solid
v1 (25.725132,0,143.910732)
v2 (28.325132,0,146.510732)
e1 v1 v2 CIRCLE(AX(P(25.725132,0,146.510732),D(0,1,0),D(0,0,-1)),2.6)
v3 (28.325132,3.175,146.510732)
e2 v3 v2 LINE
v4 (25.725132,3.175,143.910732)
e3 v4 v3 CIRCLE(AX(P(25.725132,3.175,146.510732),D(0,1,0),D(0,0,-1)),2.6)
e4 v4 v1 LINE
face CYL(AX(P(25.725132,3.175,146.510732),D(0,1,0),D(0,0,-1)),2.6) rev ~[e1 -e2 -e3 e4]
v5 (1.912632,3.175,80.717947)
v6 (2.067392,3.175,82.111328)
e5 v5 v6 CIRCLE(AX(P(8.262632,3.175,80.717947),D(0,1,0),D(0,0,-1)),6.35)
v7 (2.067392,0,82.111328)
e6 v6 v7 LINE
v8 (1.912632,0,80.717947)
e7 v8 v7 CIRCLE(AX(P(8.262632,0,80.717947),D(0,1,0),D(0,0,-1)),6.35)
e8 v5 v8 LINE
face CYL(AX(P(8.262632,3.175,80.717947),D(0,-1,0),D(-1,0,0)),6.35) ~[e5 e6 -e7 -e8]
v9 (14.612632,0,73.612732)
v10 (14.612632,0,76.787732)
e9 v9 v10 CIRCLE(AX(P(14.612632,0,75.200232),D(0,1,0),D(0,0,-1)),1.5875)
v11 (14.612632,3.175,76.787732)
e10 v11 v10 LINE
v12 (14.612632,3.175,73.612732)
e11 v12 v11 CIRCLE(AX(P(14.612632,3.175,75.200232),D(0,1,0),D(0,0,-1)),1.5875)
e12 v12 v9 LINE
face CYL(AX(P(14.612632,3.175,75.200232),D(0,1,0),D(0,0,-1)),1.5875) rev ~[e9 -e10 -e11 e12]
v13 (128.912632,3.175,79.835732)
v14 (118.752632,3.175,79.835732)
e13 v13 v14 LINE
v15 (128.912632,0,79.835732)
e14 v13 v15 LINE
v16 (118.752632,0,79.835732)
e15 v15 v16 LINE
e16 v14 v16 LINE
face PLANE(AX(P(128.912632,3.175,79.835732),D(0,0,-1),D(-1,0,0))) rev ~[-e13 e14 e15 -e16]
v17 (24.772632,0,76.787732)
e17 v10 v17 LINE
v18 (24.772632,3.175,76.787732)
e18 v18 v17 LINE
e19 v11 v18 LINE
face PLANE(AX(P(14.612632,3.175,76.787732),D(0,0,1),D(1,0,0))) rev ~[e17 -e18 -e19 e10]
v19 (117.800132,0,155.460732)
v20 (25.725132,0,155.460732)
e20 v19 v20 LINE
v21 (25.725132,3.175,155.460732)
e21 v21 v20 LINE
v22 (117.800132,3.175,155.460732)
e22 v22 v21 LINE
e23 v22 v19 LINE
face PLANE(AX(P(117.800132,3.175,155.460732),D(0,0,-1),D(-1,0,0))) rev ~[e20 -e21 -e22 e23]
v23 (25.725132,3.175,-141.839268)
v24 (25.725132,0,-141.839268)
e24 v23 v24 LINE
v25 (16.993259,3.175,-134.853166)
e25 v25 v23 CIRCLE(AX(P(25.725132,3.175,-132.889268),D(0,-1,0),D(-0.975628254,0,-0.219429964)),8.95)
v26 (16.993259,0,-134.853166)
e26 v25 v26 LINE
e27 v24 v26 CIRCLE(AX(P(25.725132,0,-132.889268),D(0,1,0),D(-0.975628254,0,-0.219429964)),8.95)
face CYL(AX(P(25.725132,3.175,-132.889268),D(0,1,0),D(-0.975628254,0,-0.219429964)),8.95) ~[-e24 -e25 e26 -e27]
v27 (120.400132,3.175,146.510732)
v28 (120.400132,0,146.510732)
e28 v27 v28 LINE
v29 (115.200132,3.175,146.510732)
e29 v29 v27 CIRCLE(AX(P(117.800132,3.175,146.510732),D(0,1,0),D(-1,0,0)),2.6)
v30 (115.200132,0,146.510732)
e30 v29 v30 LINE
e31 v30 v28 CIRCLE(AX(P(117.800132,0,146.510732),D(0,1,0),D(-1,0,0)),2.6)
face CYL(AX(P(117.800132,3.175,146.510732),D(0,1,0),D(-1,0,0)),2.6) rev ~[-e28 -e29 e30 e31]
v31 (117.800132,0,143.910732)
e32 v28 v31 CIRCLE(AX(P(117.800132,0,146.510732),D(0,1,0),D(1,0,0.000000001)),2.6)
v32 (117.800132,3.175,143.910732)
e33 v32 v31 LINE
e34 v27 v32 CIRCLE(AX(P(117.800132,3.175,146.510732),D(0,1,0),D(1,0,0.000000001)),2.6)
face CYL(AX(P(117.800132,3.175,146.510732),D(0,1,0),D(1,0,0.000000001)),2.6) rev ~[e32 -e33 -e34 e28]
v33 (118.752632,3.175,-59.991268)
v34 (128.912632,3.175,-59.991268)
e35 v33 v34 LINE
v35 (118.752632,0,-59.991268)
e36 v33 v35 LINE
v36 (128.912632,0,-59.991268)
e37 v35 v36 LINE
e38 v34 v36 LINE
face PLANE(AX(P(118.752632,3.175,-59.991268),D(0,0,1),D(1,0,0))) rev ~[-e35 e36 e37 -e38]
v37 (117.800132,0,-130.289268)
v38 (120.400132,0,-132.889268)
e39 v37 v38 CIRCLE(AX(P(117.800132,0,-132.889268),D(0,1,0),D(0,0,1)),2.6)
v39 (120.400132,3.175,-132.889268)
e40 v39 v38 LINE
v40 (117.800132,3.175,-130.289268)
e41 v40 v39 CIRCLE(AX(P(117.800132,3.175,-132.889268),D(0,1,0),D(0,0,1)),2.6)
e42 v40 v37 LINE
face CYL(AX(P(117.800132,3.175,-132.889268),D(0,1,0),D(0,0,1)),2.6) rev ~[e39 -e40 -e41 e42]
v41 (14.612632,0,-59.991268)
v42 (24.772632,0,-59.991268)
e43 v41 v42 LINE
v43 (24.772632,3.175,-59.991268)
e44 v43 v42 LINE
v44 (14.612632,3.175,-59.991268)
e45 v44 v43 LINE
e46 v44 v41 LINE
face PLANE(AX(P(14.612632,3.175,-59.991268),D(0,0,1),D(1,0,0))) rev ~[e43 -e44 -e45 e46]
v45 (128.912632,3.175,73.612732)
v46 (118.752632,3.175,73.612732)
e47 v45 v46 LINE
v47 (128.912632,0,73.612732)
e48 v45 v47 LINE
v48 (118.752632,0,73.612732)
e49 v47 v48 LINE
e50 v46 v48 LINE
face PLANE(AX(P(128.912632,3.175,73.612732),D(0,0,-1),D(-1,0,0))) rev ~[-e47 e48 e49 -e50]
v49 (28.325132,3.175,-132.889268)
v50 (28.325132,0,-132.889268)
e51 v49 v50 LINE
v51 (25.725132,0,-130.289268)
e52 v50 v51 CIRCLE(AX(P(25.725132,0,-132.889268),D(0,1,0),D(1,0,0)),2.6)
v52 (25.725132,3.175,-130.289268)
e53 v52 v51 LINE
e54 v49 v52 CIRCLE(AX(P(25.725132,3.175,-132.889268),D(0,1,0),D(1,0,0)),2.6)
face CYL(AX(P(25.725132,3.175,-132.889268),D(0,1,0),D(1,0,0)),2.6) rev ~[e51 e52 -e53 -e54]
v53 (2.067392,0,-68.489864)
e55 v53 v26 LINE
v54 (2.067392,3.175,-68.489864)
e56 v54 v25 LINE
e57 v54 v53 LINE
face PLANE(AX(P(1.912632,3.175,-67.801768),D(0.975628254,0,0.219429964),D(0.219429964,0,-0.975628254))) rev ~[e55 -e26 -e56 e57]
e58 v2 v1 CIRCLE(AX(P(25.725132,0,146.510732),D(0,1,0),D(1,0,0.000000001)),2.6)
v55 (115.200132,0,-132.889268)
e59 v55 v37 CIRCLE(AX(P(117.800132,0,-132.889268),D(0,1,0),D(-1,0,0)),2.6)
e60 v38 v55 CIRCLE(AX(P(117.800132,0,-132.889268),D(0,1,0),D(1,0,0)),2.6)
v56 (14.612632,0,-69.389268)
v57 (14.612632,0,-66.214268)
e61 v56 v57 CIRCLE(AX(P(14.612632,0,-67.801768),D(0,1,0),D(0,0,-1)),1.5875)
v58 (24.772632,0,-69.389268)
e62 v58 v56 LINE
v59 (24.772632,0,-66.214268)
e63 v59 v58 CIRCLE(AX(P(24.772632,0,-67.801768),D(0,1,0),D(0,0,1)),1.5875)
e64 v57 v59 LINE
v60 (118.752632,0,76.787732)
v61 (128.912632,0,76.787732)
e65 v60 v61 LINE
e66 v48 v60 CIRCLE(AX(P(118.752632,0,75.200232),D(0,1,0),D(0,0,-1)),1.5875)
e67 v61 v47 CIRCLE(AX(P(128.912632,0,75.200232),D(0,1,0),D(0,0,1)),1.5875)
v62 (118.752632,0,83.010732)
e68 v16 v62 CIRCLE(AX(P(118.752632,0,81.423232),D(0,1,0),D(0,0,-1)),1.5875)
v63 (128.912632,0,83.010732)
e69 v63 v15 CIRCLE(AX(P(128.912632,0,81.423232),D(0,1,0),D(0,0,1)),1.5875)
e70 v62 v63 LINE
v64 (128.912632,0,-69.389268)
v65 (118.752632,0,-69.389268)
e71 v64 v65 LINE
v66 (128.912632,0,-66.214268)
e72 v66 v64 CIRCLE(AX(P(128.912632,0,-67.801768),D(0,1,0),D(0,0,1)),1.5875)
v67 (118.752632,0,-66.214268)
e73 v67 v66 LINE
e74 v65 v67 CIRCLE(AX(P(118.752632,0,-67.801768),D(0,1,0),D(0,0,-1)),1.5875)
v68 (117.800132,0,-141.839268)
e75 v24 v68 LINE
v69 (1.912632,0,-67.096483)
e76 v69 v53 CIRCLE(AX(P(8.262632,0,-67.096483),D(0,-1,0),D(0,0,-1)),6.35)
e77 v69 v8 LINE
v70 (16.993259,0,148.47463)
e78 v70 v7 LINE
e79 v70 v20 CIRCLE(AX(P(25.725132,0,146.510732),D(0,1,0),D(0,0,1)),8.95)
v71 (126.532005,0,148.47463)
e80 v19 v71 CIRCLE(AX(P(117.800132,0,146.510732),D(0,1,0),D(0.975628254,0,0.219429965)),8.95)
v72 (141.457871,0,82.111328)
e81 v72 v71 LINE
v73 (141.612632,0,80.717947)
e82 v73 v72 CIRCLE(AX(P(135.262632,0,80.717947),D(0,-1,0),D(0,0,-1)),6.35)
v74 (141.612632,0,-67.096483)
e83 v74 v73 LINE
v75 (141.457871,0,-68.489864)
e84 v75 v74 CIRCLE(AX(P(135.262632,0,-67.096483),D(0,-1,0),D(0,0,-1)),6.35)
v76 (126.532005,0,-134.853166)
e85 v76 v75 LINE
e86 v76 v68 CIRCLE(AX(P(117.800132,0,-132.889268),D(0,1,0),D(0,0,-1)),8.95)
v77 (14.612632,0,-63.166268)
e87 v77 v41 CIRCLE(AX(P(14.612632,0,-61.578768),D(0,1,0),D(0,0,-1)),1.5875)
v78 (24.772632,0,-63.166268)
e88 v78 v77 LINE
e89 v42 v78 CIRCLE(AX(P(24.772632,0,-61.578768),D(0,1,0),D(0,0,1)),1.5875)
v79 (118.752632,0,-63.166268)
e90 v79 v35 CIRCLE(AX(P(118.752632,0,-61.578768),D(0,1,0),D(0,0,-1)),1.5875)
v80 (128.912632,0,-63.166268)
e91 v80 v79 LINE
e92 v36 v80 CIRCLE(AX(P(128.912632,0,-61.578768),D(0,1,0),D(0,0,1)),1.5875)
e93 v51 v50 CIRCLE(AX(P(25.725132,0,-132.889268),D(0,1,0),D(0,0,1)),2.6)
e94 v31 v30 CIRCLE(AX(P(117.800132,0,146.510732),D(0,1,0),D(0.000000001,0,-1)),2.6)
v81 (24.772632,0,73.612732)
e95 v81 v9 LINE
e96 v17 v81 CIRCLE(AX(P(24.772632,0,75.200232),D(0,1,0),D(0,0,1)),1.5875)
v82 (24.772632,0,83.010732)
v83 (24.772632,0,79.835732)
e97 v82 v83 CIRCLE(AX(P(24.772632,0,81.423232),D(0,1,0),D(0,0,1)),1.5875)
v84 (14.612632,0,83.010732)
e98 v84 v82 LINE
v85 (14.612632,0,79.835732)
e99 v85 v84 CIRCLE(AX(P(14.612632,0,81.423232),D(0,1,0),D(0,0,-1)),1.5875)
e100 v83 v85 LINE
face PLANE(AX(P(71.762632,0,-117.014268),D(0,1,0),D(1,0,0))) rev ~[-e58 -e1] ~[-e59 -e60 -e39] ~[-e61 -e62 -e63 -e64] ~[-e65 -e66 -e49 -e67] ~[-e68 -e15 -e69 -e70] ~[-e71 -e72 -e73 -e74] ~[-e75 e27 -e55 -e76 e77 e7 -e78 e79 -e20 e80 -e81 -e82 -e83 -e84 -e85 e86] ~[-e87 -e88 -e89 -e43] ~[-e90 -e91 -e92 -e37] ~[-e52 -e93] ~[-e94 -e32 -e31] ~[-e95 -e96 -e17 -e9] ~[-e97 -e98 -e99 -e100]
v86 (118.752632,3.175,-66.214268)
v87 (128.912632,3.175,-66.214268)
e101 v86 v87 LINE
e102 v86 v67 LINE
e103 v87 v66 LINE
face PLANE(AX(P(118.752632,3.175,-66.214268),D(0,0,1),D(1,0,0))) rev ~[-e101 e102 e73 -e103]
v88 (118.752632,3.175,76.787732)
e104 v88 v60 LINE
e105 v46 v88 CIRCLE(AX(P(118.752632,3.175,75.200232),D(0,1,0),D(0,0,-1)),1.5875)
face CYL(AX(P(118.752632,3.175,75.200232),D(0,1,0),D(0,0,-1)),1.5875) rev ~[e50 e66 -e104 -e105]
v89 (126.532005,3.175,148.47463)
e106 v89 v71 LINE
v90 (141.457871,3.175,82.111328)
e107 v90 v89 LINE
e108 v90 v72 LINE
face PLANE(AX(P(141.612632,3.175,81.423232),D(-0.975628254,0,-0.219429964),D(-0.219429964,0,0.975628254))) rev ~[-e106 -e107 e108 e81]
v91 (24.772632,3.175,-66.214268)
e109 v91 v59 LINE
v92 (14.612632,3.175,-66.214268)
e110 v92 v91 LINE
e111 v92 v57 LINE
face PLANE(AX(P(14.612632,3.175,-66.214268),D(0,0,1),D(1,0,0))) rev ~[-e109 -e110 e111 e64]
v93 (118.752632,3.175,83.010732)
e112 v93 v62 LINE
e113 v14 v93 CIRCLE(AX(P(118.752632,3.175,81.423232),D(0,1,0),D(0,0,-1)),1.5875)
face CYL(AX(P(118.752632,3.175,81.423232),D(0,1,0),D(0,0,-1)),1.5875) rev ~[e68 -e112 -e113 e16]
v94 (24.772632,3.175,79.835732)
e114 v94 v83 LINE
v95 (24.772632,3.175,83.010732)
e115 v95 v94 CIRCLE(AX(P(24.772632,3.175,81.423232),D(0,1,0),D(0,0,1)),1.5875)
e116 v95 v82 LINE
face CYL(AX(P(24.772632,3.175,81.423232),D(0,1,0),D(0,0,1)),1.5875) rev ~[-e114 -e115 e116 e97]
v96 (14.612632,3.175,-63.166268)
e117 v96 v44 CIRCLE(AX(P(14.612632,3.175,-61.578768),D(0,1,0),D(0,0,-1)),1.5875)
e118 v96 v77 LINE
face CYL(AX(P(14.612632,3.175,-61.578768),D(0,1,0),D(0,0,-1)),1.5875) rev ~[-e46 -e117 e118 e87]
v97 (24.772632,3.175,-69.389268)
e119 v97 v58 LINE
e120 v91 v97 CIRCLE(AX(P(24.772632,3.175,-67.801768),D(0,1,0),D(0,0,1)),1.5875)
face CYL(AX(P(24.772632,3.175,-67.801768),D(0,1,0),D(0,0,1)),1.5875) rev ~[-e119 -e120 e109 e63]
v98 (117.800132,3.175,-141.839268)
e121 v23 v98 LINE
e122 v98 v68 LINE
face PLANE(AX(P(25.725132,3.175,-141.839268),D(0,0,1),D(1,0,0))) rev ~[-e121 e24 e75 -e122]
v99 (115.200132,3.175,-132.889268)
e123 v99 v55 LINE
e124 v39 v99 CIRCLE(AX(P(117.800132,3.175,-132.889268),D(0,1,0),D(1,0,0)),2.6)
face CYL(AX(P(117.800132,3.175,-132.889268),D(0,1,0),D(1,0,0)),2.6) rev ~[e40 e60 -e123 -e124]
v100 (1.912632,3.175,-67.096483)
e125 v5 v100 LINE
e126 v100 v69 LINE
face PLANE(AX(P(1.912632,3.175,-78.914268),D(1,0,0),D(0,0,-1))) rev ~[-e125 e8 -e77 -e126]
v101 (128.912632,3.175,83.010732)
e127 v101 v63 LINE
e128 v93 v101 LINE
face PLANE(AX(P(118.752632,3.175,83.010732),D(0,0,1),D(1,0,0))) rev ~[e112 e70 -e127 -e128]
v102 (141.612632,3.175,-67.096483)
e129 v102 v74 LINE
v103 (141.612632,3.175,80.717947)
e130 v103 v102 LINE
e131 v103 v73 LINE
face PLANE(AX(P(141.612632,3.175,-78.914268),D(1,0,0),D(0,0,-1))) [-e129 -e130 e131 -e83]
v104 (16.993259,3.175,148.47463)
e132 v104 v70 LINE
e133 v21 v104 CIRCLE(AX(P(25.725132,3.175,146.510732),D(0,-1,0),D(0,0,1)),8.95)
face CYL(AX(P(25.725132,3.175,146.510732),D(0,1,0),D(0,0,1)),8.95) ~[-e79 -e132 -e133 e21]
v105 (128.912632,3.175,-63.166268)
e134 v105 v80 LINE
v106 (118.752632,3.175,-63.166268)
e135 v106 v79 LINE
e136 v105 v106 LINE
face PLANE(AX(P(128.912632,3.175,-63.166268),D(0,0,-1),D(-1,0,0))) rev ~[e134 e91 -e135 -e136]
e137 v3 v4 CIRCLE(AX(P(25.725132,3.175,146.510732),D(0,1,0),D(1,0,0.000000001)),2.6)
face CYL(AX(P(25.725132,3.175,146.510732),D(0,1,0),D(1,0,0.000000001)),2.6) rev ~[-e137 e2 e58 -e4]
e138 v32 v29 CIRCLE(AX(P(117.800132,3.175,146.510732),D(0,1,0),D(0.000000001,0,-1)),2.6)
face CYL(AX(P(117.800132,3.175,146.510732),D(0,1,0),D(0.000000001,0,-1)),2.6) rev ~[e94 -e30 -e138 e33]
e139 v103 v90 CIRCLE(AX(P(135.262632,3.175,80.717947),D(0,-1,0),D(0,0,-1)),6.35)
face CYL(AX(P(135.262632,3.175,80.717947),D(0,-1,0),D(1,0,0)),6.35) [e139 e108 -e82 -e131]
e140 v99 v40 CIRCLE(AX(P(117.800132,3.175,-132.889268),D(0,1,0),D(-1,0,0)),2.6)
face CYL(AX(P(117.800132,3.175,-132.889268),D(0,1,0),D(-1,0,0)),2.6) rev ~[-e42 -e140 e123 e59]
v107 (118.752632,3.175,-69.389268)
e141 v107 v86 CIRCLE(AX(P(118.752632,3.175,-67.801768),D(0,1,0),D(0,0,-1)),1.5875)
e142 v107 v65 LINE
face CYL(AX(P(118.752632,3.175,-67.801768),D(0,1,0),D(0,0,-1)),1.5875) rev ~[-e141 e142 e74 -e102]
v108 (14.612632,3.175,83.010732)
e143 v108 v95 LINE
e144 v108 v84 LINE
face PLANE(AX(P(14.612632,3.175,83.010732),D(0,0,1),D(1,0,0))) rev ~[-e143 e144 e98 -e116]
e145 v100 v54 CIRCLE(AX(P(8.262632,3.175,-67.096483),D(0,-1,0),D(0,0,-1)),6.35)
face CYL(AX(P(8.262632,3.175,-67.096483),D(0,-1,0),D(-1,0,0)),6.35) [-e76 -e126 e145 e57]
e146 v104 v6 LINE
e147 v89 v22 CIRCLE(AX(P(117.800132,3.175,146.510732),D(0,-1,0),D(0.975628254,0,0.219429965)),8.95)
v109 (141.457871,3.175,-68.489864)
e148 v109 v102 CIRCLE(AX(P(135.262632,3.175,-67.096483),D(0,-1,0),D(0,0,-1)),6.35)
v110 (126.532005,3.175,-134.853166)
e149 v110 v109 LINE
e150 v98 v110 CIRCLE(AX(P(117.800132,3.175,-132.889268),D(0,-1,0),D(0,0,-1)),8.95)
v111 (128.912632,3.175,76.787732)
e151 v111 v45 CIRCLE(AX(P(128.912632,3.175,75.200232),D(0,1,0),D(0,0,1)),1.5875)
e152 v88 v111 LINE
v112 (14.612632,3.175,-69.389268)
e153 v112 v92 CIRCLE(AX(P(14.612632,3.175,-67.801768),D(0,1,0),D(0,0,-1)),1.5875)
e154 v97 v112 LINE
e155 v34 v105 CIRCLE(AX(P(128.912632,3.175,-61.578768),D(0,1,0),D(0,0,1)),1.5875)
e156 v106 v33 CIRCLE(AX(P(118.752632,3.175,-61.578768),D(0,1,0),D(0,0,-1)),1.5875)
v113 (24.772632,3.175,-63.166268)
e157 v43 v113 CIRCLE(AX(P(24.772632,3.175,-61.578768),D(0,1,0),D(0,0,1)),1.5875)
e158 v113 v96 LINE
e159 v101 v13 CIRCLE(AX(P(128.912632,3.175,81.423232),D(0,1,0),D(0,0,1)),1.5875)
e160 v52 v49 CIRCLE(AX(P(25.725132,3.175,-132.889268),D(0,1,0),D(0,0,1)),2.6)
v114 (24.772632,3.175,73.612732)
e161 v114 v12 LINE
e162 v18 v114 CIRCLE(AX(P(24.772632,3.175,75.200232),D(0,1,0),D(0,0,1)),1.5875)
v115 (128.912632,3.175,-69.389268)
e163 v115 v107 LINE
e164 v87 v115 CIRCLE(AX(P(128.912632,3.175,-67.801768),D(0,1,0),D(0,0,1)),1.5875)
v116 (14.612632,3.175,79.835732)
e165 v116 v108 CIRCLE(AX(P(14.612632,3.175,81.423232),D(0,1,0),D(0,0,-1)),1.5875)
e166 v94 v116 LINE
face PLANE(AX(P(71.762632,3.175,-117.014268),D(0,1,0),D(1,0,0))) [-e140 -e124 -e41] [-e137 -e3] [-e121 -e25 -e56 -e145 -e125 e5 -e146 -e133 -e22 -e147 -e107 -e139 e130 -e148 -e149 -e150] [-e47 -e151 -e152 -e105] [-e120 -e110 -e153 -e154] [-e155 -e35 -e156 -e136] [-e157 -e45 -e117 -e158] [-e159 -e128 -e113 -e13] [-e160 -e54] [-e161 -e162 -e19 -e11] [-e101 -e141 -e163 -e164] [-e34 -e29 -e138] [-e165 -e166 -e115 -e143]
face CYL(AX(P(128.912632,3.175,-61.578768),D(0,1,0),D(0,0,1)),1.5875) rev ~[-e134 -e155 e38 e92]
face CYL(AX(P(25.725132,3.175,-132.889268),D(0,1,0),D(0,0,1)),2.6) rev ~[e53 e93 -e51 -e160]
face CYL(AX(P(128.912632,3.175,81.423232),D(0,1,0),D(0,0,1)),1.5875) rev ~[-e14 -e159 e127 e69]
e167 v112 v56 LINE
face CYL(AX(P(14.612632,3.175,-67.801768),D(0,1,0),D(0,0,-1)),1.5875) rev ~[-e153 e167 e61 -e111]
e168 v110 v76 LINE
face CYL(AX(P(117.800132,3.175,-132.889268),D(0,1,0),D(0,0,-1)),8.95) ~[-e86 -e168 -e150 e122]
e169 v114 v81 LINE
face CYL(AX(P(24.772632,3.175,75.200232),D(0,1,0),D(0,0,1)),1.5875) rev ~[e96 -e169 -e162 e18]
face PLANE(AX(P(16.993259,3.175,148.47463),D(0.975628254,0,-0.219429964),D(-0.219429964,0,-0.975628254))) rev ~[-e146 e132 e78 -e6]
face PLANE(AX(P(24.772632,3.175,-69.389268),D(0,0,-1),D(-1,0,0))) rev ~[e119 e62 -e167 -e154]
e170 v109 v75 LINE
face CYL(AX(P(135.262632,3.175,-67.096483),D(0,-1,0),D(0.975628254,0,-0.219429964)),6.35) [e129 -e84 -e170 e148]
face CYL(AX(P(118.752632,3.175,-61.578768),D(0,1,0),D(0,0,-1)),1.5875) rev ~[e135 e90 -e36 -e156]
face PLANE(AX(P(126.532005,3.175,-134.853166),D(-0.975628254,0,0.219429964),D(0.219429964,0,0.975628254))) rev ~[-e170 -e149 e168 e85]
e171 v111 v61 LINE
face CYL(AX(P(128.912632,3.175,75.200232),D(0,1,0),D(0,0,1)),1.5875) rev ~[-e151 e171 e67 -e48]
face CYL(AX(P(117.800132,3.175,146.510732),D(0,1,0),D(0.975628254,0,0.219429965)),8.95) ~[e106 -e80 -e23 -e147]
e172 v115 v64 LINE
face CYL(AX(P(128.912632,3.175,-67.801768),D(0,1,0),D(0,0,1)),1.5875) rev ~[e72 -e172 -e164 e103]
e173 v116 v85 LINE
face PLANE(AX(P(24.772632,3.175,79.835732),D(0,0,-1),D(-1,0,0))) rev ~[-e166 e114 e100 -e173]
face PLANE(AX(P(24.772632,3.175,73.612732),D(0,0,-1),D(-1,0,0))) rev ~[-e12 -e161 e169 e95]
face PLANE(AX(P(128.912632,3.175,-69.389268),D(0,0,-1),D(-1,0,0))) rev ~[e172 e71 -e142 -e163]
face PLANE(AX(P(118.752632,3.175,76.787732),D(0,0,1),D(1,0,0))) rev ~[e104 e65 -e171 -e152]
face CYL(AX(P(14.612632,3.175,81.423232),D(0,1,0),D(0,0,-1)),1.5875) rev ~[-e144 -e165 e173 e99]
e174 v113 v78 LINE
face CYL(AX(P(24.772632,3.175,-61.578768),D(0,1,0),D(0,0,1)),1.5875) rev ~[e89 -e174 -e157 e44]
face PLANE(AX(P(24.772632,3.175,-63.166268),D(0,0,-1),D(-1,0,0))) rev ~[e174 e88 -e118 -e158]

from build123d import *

# Parameters (mm, degrees)
SKETCH1_W               = 283.466794954
SKETCH1_H               = 183.213286571
BOSS_EXTRUDE1_DEPTH     = 3.175
SKETCH2_W               = 283.466794954
SKETCH2_H               = 183.213286571
CUT_EXTRUDE1_DEPTH      = 4.175
SKETCH4_W               = 139.7
SKETCH4_H               = 76.2
BOSS_EXTRUDE2_DEPTH     = 3.175
CUT_EXTRUDE2_DEPTH      = 4.175
CUT_EXTRUDE3_DEPTH      = 1
CUT_EXTRUDE3_DEPTH_BACK = 4.175
FILLET1_R               = 6.35


with BuildPart() as part:
    # Sketch1 → Boss-Extrude1 (new body)
    with BuildSketch(Plane(origin=(0, 0, 0), x_dir=(1, 0, 0), z_dir=(0, 1, 0))):
        with Locations((1.754436397, -4.260774107)):
            Rectangle(SKETCH1_W, SKETCH1_H)
    extrude(amount=BOSS_EXTRUDE1_DEPTH)

    # Sketch2 → Cut-Extrude1 (cut, through all)
    with BuildSketch(Plane(origin=(0, 3.175, 0), x_dir=(1, 0, 0), z_dir=(0, 1, 0))):
        with Locations((1.754436397, -4.260774107)):
            Rectangle(SKETCH2_W, SKETCH2_H)
        Polygon((14.612631792, -92.535731899), (1.912631792, -92.535731899), (1.912631792, -79.835731899), (1.912631792, 78.914268101), (141.612631792, 78.914268101), (141.612631792, -79.835731899), (141.612631792, -92.535731899), (128.912631792, -92.535731899), align=None, mode=Mode.SUBTRACT)
        with BuildLine():
            Line((24.772631792, 63.166268101), (14.612631792, 63.166268101))
            Line((14.612631792, 63.166268101), (14.612631792, 59.991268101))
            Line((14.612631792, 59.991268101), (24.772631792, 59.991268101))
            ThreePointArc((24.772631792, 59.991268101), (26.360131792, 61.578768101), (24.772631792, 63.166268101))
        make_face()
        with BuildLine():
            Line((14.612631792, 59.991268101), (14.612631792, 63.166268101))
            ThreePointArc((14.612631792, 63.166268101), (13.025131792, 61.578768101), (14.612631792, 59.991268101))
        make_face()
        with BuildLine():
            ThreePointArc((14.612631792, 69.389268101), (13.025131792, 67.801768101), (14.612631792, 66.214268101))
            Line((14.612631792, 66.214268101), (24.772631792, 66.214268101))
            ThreePointArc((24.772631792, 66.214268101), (26.360131792, 67.801768101), (24.772631792, 69.389268101))
            Line((24.772631792, 69.389268101), (14.612631792, 69.389268101))
        make_face()
        with BuildLine():
            Line((128.912631792, 63.166268101), (118.752631792, 63.166268101))
            ThreePointArc((118.752631792, 63.166268101), (117.165131792, 61.578768101), (118.752631792, 59.991268101))
            Line((118.752631792, 59.991268101), (128.912631792, 59.991268101))
            Line((128.912631792, 59.991268101), (128.912631792, 63.166268101))
        make_face()
        with BuildLine():
            ThreePointArc((118.752631792, 69.389268101), (117.165131792, 67.801768101), (118.752631792, 66.214268101))
            Line((118.752631792, 66.214268101), (128.912631792, 66.214268101))
            ThreePointArc((128.912631792, 66.214268101), (130.500131792, 67.801768101), (128.912631792, 69.389268101))
            Line((128.912631792, 69.389268101), (118.752631792, 69.389268101))
        make_face()
        with BuildLine():
            ThreePointArc((128.912631792, -83.010731899), (130.500131792, -81.423231899), (128.912631792, -79.835731899))
            Line((128.912631792, -79.835731899), (118.752631792, -79.835731899))
            ThreePointArc((118.752631792, -79.835731899), (117.165131792, -81.423231899), (118.752631792, -83.010731899))
            Line((118.752631792, -83.010731899), (128.912631792, -83.010731899))
        make_face()
        with BuildLine():
            ThreePointArc((128.912631792, -76.787731899), (130.500131792, -75.200231899), (128.912631792, -73.612731899))
            Line((128.912631792, -73.612731899), (128.912631792, -76.787731899))
        make_face()
        with BuildLine():
            Line((128.912631792, -76.787731899), (128.912631792, -73.612731899))
            Line((128.912631792, -73.612731899), (118.752631792, -73.612731899))
            ThreePointArc((118.752631792, -73.612731899), (117.165131792, -75.200231899), (118.752631792, -76.787731899))
            Line((118.752631792, -76.787731899), (128.912631792, -76.787731899))
        make_face()
        with BuildLine():
            ThreePointArc((128.912631792, 59.991268101), (130.500131792, 61.578768101), (128.912631792, 63.166268101))
            Line((128.912631792, 63.166268101), (128.912631792, 59.991268101))
        make_face()
        with BuildLine():
            Line((24.772631792, -79.835731899), (14.612631792, -79.835731899))
            ThreePointArc((14.612631792, -79.835731899), (13.025131792, -81.423231899), (14.612631792, -83.010731899))
            Line((14.612631792, -83.010731899), (24.772631792, -83.010731899))
            ThreePointArc((24.772631792, -83.010731899), (26.360131792, -81.423231899), (24.772631792, -79.835731899))
        make_face()
        with BuildLine():
            Line((24.772631792, -73.612731899), (14.612631792, -73.612731899))
            Line((14.612631792, -73.612731899), (14.612631792, -76.787731899))
            Line((14.612631792, -76.787731899), (24.772631792, -76.787731899))
            ThreePointArc((24.772631792, -76.787731899), (26.360131792, -75.200231899), (24.772631792, -73.612731899))
        make_face()
        with BuildLine():
            Line((14.612631792, -76.787731899), (14.612631792, -73.612731899))
            ThreePointArc((14.612631792, -73.612731899), (13.025131792, -75.200231899), (14.612631792, -76.787731899))
        make_face()
    extrude(amount=-CUT_EXTRUDE1_DEPTH, mode=Mode.SUBTRACT)

    # Sketch4 → Boss-Extrude2 (add)
    with BuildSketch(Plane(origin=(0, 3.175, 0), x_dir=(1, 0, 0), z_dir=(0, 1, 0))):
        with Locations((71.762631792, 117.014268101)):
            Rectangle(SKETCH4_W, SKETCH4_H)
        with Locations((71.762631792, -130.635731899)):
            Rectangle(SKETCH4_W, SKETCH4_H)
    extrude(amount=-BOSS_EXTRUDE2_DEPTH)

    # Sketch3 → Cut-Extrude2 (cut, through all)
    with BuildSketch(Plane(origin=(0, 3.175, 0), x_dir=(1, 0, 0), z_dir=(0, 1, 0))):
        with BuildLine():
            ThreePointArc((28.325131792, 132.889268101), (23.886654161, 134.727745733), (25.725131792, 130.289268101))
            Line((25.725131792, 130.289268101), (25.725131792, 132.889268101))
            Line((25.725131792, 132.889268101), (28.325131792, 132.889268101))
        make_face()
        with BuildLine():
            Line((25.725131792, 132.889268101), (25.725131792, 130.289268101))
            ThreePointArc((25.725131792, 130.289268101), (27.563609423, 131.05079047), (28.325131792, 132.889268101))
            Line((28.325131792, 132.889268101), (25.725131792, 132.889268101))
        make_face()
        with BuildLine():
            ThreePointArc((28.325131792, 132.889268101), (23.886654161, 134.727745733), (25.725131792, 130.289268101))
            Line((25.725131792, 130.289268101), (25.725131792, 132.889268101))
            Line((25.725131792, 132.889268101), (28.325131792, 132.889268101))
        make_face()
        with BuildLine():
            Line((25.725131792, 132.889268101), (25.725131792, 130.289268101))
            ThreePointArc((25.725131792, 130.289268101), (27.563609423, 131.05079047), (28.325131792, 132.889268101))
            Line((28.325131792, 132.889268101), (25.725131792, 132.889268101))
        make_face()
        with BuildLine():
            ThreePointArc((115.200131792, 132.889268101), (115.961654161, 131.05079047), (117.800131792, 130.289268101))
            Line((117.800131792, 130.289268101), (117.800131792, 132.889268101))
            Line((117.800131792, 132.889268101), (115.200131792, 132.889268101))
        make_face()
        with BuildLine():
            Line((117.800131792, 132.889268101), (117.800131792, 130.289268101))
            ThreePointArc((117.800131792, 130.289268101), (119.638609423, 131.05079047), (120.400131792, 132.889268101))
            ThreePointArc((120.400131792, 132.889268101), (117.800131792, 135.489268101), (115.200131792, 132.889268101))
            Line((115.200131792, 132.889268101), (117.800131792, 132.889268101))
        make_face()
        with BuildLine():
            ThreePointArc((115.200131792, 132.889268101), (115.961654161, 131.05079047), (117.800131792, 130.289268101))
            Line((117.800131792, 130.289268101), (117.800131792, 132.889268101))
            Line((117.800131792, 132.889268101), (115.200131792, 132.889268101))
        make_face()
        with BuildLine():
            Line((117.800131792, 132.889268101), (117.800131792, 130.289268101))
            ThreePointArc((117.800131792, 130.289268101), (119.638609423, 131.05079047), (120.400131792, 132.889268101))
            ThreePointArc((120.400131792, 132.889268101), (117.800131792, 135.489268101), (115.200131792, 132.889268101))
            Line((115.200131792, 132.889268101), (117.800131792, 132.889268101))
        make_face()
        with BuildLine():
            ThreePointArc((120.400131792, -146.510731899), (119.638609423, -144.672254267), (117.800131792, -143.910731899))
            Line((117.800131792, -143.910731899), (117.800131792, -146.510731899))
            Line((117.800131792, -146.510731899), (115.200131792, -146.510731899))
            ThreePointArc((115.200131792, -146.510731899), (117.800131792, -149.110731899), (120.400131792, -146.510731899))
        make_face()
        with BuildLine():
            Line((117.800131792, -146.510731899), (117.800131792, -143.910731899))
            ThreePointArc((117.800131792, -143.910731899), (115.961654161, -144.672254267), (115.200131792, -146.510731899))
            Line((115.200131792, -146.510731899), (117.800131792, -146.510731899))
        make_face()
        with BuildLine():
            ThreePointArc((120.400131792, -146.510731899), (119.638609423, -144.672254267), (117.800131792, -143.910731899))
            Line((117.800131792, -143.910731899), (117.800131792, -146.510731899))
            Line((117.800131792, -146.510731899), (115.200131792, -146.510731899))
            ThreePointArc((115.200131792, -146.510731899), (117.800131792, -149.110731899), (120.400131792, -146.510731899))
        make_face()
        with BuildLine():
            Line((117.800131792, -146.510731899), (117.800131792, -143.910731899))
            ThreePointArc((117.800131792, -143.910731899), (115.961654161, -144.672254267), (115.200131792, -146.510731899))
            Line((115.200131792, -146.510731899), (117.800131792, -146.510731899))
        make_face()
        with BuildLine():
            ThreePointArc((28.325131792, -146.510731899), (27.563609423, -144.672254267), (25.725131792, -143.910731899))
            Line((25.725131792, -143.910731899), (25.725131792, -146.510731899))
            Line((25.725131792, -146.510731899), (28.325131792, -146.510731899))
        make_face()
        with BuildLine():
            Line((25.725131792, -146.510731899), (25.725131792, -143.910731899))
            ThreePointArc((25.725131792, -143.910731899), (23.886654161, -148.34920953), (28.325131792, -146.510731899))
            Line((28.325131792, -146.510731899), (25.725131792, -146.510731899))
        make_face()
        with BuildLine():
            ThreePointArc((28.325131792, -146.510731899), (27.563609423, -144.672254267), (25.725131792, -143.910731899))
            Line((25.725131792, -143.910731899), (25.725131792, -146.510731899))
            Line((25.725131792, -146.510731899), (28.325131792, -146.510731899))
        make_face()
        with BuildLine():
            Line((25.725131792, -146.510731899), (25.725131792, -143.910731899))
            ThreePointArc((25.725131792, -143.910731899), (23.886654161, -148.34920953), (28.325131792, -146.510731899))
            Line((28.325131792, -146.510731899), (25.725131792, -146.510731899))
        make_face()
    extrude(amount=-CUT_EXTRUDE2_DEPTH, mode=Mode.SUBTRACT)

    # Sketch5 → Cut-Extrude3 (cut, two sides)
    with BuildSketch(Plane(origin=(0, 3.175, 0), x_dir=(1, 0, 0), z_dir=(0, 1, 0))) as cut_extrude3_sk:
        with BuildLine():
            Line((1.912631792, 67.801768101), (16.993258915, 134.853166283))
            ThreePointArc((16.993258915, 134.853166283), (20.133816594, 139.877808318), (25.725131792, 141.839268101))
            Line((25.725131792, 141.839268101), (117.800131792, 141.839268101))
            ThreePointArc((117.800131792, 141.839268101), (123.39144699, 139.877808318), (126.532004669, 134.853166283))
            Line((126.532004669, 134.853166283), (141.612631792, 67.801768101))
            Line((141.612631792, 67.801768101), (141.612631792, 155.114268101))
            Line((141.612631792, 155.114268101), (1.912631792, 155.114268101))
            Line((1.912631792, 155.114268101), (1.912631792, 67.801768101))
        make_face()
        with BuildLine():
            Line((16.993258915, -148.47463008), (1.912631792, -81.423231899))
            Line((1.912631792, -81.423231899), (1.912631792, -168.735731899))
            Line((1.912631792, -168.735731899), (141.612631792, -168.735731899))
            Line((141.612631792, -168.735731899), (141.612631792, -81.423231899))
            Line((141.612631792, -81.423231899), (126.532004669, -148.47463008))
            ThreePointArc((126.532004669, -148.47463008), (123.39144699, -153.499272115), (117.800131792, -155.460731899))
            Line((117.800131792, -155.460731899), (25.725131792, -155.460731899))
            ThreePointArc((25.725131792, -155.460731899), (20.133816594, -153.499272115), (16.993258915, -148.47463008))
        make_face()
    extrude(amount=CUT_EXTRUDE3_DEPTH, mode=Mode.SUBTRACT)
    extrude(cut_extrude3_sk.sketch, amount=-CUT_EXTRUDE3_DEPTH_BACK, mode=Mode.SUBTRACT)

    # Fillet1
    fillet1_edges = [part.edges().sort_by_distance(p)[0] for p in [
        (1.912631792, 1.5875, -67.801768101),
        (141.612631792, 1.5875, -67.801768101),
        (141.612631792, 1.5875, 81.423231899),
        (1.912631792, 1.5875, 81.423231899),
    ]]
    fillet(fillet1_edges, radius=FILLET1_R)


solid = part.part
